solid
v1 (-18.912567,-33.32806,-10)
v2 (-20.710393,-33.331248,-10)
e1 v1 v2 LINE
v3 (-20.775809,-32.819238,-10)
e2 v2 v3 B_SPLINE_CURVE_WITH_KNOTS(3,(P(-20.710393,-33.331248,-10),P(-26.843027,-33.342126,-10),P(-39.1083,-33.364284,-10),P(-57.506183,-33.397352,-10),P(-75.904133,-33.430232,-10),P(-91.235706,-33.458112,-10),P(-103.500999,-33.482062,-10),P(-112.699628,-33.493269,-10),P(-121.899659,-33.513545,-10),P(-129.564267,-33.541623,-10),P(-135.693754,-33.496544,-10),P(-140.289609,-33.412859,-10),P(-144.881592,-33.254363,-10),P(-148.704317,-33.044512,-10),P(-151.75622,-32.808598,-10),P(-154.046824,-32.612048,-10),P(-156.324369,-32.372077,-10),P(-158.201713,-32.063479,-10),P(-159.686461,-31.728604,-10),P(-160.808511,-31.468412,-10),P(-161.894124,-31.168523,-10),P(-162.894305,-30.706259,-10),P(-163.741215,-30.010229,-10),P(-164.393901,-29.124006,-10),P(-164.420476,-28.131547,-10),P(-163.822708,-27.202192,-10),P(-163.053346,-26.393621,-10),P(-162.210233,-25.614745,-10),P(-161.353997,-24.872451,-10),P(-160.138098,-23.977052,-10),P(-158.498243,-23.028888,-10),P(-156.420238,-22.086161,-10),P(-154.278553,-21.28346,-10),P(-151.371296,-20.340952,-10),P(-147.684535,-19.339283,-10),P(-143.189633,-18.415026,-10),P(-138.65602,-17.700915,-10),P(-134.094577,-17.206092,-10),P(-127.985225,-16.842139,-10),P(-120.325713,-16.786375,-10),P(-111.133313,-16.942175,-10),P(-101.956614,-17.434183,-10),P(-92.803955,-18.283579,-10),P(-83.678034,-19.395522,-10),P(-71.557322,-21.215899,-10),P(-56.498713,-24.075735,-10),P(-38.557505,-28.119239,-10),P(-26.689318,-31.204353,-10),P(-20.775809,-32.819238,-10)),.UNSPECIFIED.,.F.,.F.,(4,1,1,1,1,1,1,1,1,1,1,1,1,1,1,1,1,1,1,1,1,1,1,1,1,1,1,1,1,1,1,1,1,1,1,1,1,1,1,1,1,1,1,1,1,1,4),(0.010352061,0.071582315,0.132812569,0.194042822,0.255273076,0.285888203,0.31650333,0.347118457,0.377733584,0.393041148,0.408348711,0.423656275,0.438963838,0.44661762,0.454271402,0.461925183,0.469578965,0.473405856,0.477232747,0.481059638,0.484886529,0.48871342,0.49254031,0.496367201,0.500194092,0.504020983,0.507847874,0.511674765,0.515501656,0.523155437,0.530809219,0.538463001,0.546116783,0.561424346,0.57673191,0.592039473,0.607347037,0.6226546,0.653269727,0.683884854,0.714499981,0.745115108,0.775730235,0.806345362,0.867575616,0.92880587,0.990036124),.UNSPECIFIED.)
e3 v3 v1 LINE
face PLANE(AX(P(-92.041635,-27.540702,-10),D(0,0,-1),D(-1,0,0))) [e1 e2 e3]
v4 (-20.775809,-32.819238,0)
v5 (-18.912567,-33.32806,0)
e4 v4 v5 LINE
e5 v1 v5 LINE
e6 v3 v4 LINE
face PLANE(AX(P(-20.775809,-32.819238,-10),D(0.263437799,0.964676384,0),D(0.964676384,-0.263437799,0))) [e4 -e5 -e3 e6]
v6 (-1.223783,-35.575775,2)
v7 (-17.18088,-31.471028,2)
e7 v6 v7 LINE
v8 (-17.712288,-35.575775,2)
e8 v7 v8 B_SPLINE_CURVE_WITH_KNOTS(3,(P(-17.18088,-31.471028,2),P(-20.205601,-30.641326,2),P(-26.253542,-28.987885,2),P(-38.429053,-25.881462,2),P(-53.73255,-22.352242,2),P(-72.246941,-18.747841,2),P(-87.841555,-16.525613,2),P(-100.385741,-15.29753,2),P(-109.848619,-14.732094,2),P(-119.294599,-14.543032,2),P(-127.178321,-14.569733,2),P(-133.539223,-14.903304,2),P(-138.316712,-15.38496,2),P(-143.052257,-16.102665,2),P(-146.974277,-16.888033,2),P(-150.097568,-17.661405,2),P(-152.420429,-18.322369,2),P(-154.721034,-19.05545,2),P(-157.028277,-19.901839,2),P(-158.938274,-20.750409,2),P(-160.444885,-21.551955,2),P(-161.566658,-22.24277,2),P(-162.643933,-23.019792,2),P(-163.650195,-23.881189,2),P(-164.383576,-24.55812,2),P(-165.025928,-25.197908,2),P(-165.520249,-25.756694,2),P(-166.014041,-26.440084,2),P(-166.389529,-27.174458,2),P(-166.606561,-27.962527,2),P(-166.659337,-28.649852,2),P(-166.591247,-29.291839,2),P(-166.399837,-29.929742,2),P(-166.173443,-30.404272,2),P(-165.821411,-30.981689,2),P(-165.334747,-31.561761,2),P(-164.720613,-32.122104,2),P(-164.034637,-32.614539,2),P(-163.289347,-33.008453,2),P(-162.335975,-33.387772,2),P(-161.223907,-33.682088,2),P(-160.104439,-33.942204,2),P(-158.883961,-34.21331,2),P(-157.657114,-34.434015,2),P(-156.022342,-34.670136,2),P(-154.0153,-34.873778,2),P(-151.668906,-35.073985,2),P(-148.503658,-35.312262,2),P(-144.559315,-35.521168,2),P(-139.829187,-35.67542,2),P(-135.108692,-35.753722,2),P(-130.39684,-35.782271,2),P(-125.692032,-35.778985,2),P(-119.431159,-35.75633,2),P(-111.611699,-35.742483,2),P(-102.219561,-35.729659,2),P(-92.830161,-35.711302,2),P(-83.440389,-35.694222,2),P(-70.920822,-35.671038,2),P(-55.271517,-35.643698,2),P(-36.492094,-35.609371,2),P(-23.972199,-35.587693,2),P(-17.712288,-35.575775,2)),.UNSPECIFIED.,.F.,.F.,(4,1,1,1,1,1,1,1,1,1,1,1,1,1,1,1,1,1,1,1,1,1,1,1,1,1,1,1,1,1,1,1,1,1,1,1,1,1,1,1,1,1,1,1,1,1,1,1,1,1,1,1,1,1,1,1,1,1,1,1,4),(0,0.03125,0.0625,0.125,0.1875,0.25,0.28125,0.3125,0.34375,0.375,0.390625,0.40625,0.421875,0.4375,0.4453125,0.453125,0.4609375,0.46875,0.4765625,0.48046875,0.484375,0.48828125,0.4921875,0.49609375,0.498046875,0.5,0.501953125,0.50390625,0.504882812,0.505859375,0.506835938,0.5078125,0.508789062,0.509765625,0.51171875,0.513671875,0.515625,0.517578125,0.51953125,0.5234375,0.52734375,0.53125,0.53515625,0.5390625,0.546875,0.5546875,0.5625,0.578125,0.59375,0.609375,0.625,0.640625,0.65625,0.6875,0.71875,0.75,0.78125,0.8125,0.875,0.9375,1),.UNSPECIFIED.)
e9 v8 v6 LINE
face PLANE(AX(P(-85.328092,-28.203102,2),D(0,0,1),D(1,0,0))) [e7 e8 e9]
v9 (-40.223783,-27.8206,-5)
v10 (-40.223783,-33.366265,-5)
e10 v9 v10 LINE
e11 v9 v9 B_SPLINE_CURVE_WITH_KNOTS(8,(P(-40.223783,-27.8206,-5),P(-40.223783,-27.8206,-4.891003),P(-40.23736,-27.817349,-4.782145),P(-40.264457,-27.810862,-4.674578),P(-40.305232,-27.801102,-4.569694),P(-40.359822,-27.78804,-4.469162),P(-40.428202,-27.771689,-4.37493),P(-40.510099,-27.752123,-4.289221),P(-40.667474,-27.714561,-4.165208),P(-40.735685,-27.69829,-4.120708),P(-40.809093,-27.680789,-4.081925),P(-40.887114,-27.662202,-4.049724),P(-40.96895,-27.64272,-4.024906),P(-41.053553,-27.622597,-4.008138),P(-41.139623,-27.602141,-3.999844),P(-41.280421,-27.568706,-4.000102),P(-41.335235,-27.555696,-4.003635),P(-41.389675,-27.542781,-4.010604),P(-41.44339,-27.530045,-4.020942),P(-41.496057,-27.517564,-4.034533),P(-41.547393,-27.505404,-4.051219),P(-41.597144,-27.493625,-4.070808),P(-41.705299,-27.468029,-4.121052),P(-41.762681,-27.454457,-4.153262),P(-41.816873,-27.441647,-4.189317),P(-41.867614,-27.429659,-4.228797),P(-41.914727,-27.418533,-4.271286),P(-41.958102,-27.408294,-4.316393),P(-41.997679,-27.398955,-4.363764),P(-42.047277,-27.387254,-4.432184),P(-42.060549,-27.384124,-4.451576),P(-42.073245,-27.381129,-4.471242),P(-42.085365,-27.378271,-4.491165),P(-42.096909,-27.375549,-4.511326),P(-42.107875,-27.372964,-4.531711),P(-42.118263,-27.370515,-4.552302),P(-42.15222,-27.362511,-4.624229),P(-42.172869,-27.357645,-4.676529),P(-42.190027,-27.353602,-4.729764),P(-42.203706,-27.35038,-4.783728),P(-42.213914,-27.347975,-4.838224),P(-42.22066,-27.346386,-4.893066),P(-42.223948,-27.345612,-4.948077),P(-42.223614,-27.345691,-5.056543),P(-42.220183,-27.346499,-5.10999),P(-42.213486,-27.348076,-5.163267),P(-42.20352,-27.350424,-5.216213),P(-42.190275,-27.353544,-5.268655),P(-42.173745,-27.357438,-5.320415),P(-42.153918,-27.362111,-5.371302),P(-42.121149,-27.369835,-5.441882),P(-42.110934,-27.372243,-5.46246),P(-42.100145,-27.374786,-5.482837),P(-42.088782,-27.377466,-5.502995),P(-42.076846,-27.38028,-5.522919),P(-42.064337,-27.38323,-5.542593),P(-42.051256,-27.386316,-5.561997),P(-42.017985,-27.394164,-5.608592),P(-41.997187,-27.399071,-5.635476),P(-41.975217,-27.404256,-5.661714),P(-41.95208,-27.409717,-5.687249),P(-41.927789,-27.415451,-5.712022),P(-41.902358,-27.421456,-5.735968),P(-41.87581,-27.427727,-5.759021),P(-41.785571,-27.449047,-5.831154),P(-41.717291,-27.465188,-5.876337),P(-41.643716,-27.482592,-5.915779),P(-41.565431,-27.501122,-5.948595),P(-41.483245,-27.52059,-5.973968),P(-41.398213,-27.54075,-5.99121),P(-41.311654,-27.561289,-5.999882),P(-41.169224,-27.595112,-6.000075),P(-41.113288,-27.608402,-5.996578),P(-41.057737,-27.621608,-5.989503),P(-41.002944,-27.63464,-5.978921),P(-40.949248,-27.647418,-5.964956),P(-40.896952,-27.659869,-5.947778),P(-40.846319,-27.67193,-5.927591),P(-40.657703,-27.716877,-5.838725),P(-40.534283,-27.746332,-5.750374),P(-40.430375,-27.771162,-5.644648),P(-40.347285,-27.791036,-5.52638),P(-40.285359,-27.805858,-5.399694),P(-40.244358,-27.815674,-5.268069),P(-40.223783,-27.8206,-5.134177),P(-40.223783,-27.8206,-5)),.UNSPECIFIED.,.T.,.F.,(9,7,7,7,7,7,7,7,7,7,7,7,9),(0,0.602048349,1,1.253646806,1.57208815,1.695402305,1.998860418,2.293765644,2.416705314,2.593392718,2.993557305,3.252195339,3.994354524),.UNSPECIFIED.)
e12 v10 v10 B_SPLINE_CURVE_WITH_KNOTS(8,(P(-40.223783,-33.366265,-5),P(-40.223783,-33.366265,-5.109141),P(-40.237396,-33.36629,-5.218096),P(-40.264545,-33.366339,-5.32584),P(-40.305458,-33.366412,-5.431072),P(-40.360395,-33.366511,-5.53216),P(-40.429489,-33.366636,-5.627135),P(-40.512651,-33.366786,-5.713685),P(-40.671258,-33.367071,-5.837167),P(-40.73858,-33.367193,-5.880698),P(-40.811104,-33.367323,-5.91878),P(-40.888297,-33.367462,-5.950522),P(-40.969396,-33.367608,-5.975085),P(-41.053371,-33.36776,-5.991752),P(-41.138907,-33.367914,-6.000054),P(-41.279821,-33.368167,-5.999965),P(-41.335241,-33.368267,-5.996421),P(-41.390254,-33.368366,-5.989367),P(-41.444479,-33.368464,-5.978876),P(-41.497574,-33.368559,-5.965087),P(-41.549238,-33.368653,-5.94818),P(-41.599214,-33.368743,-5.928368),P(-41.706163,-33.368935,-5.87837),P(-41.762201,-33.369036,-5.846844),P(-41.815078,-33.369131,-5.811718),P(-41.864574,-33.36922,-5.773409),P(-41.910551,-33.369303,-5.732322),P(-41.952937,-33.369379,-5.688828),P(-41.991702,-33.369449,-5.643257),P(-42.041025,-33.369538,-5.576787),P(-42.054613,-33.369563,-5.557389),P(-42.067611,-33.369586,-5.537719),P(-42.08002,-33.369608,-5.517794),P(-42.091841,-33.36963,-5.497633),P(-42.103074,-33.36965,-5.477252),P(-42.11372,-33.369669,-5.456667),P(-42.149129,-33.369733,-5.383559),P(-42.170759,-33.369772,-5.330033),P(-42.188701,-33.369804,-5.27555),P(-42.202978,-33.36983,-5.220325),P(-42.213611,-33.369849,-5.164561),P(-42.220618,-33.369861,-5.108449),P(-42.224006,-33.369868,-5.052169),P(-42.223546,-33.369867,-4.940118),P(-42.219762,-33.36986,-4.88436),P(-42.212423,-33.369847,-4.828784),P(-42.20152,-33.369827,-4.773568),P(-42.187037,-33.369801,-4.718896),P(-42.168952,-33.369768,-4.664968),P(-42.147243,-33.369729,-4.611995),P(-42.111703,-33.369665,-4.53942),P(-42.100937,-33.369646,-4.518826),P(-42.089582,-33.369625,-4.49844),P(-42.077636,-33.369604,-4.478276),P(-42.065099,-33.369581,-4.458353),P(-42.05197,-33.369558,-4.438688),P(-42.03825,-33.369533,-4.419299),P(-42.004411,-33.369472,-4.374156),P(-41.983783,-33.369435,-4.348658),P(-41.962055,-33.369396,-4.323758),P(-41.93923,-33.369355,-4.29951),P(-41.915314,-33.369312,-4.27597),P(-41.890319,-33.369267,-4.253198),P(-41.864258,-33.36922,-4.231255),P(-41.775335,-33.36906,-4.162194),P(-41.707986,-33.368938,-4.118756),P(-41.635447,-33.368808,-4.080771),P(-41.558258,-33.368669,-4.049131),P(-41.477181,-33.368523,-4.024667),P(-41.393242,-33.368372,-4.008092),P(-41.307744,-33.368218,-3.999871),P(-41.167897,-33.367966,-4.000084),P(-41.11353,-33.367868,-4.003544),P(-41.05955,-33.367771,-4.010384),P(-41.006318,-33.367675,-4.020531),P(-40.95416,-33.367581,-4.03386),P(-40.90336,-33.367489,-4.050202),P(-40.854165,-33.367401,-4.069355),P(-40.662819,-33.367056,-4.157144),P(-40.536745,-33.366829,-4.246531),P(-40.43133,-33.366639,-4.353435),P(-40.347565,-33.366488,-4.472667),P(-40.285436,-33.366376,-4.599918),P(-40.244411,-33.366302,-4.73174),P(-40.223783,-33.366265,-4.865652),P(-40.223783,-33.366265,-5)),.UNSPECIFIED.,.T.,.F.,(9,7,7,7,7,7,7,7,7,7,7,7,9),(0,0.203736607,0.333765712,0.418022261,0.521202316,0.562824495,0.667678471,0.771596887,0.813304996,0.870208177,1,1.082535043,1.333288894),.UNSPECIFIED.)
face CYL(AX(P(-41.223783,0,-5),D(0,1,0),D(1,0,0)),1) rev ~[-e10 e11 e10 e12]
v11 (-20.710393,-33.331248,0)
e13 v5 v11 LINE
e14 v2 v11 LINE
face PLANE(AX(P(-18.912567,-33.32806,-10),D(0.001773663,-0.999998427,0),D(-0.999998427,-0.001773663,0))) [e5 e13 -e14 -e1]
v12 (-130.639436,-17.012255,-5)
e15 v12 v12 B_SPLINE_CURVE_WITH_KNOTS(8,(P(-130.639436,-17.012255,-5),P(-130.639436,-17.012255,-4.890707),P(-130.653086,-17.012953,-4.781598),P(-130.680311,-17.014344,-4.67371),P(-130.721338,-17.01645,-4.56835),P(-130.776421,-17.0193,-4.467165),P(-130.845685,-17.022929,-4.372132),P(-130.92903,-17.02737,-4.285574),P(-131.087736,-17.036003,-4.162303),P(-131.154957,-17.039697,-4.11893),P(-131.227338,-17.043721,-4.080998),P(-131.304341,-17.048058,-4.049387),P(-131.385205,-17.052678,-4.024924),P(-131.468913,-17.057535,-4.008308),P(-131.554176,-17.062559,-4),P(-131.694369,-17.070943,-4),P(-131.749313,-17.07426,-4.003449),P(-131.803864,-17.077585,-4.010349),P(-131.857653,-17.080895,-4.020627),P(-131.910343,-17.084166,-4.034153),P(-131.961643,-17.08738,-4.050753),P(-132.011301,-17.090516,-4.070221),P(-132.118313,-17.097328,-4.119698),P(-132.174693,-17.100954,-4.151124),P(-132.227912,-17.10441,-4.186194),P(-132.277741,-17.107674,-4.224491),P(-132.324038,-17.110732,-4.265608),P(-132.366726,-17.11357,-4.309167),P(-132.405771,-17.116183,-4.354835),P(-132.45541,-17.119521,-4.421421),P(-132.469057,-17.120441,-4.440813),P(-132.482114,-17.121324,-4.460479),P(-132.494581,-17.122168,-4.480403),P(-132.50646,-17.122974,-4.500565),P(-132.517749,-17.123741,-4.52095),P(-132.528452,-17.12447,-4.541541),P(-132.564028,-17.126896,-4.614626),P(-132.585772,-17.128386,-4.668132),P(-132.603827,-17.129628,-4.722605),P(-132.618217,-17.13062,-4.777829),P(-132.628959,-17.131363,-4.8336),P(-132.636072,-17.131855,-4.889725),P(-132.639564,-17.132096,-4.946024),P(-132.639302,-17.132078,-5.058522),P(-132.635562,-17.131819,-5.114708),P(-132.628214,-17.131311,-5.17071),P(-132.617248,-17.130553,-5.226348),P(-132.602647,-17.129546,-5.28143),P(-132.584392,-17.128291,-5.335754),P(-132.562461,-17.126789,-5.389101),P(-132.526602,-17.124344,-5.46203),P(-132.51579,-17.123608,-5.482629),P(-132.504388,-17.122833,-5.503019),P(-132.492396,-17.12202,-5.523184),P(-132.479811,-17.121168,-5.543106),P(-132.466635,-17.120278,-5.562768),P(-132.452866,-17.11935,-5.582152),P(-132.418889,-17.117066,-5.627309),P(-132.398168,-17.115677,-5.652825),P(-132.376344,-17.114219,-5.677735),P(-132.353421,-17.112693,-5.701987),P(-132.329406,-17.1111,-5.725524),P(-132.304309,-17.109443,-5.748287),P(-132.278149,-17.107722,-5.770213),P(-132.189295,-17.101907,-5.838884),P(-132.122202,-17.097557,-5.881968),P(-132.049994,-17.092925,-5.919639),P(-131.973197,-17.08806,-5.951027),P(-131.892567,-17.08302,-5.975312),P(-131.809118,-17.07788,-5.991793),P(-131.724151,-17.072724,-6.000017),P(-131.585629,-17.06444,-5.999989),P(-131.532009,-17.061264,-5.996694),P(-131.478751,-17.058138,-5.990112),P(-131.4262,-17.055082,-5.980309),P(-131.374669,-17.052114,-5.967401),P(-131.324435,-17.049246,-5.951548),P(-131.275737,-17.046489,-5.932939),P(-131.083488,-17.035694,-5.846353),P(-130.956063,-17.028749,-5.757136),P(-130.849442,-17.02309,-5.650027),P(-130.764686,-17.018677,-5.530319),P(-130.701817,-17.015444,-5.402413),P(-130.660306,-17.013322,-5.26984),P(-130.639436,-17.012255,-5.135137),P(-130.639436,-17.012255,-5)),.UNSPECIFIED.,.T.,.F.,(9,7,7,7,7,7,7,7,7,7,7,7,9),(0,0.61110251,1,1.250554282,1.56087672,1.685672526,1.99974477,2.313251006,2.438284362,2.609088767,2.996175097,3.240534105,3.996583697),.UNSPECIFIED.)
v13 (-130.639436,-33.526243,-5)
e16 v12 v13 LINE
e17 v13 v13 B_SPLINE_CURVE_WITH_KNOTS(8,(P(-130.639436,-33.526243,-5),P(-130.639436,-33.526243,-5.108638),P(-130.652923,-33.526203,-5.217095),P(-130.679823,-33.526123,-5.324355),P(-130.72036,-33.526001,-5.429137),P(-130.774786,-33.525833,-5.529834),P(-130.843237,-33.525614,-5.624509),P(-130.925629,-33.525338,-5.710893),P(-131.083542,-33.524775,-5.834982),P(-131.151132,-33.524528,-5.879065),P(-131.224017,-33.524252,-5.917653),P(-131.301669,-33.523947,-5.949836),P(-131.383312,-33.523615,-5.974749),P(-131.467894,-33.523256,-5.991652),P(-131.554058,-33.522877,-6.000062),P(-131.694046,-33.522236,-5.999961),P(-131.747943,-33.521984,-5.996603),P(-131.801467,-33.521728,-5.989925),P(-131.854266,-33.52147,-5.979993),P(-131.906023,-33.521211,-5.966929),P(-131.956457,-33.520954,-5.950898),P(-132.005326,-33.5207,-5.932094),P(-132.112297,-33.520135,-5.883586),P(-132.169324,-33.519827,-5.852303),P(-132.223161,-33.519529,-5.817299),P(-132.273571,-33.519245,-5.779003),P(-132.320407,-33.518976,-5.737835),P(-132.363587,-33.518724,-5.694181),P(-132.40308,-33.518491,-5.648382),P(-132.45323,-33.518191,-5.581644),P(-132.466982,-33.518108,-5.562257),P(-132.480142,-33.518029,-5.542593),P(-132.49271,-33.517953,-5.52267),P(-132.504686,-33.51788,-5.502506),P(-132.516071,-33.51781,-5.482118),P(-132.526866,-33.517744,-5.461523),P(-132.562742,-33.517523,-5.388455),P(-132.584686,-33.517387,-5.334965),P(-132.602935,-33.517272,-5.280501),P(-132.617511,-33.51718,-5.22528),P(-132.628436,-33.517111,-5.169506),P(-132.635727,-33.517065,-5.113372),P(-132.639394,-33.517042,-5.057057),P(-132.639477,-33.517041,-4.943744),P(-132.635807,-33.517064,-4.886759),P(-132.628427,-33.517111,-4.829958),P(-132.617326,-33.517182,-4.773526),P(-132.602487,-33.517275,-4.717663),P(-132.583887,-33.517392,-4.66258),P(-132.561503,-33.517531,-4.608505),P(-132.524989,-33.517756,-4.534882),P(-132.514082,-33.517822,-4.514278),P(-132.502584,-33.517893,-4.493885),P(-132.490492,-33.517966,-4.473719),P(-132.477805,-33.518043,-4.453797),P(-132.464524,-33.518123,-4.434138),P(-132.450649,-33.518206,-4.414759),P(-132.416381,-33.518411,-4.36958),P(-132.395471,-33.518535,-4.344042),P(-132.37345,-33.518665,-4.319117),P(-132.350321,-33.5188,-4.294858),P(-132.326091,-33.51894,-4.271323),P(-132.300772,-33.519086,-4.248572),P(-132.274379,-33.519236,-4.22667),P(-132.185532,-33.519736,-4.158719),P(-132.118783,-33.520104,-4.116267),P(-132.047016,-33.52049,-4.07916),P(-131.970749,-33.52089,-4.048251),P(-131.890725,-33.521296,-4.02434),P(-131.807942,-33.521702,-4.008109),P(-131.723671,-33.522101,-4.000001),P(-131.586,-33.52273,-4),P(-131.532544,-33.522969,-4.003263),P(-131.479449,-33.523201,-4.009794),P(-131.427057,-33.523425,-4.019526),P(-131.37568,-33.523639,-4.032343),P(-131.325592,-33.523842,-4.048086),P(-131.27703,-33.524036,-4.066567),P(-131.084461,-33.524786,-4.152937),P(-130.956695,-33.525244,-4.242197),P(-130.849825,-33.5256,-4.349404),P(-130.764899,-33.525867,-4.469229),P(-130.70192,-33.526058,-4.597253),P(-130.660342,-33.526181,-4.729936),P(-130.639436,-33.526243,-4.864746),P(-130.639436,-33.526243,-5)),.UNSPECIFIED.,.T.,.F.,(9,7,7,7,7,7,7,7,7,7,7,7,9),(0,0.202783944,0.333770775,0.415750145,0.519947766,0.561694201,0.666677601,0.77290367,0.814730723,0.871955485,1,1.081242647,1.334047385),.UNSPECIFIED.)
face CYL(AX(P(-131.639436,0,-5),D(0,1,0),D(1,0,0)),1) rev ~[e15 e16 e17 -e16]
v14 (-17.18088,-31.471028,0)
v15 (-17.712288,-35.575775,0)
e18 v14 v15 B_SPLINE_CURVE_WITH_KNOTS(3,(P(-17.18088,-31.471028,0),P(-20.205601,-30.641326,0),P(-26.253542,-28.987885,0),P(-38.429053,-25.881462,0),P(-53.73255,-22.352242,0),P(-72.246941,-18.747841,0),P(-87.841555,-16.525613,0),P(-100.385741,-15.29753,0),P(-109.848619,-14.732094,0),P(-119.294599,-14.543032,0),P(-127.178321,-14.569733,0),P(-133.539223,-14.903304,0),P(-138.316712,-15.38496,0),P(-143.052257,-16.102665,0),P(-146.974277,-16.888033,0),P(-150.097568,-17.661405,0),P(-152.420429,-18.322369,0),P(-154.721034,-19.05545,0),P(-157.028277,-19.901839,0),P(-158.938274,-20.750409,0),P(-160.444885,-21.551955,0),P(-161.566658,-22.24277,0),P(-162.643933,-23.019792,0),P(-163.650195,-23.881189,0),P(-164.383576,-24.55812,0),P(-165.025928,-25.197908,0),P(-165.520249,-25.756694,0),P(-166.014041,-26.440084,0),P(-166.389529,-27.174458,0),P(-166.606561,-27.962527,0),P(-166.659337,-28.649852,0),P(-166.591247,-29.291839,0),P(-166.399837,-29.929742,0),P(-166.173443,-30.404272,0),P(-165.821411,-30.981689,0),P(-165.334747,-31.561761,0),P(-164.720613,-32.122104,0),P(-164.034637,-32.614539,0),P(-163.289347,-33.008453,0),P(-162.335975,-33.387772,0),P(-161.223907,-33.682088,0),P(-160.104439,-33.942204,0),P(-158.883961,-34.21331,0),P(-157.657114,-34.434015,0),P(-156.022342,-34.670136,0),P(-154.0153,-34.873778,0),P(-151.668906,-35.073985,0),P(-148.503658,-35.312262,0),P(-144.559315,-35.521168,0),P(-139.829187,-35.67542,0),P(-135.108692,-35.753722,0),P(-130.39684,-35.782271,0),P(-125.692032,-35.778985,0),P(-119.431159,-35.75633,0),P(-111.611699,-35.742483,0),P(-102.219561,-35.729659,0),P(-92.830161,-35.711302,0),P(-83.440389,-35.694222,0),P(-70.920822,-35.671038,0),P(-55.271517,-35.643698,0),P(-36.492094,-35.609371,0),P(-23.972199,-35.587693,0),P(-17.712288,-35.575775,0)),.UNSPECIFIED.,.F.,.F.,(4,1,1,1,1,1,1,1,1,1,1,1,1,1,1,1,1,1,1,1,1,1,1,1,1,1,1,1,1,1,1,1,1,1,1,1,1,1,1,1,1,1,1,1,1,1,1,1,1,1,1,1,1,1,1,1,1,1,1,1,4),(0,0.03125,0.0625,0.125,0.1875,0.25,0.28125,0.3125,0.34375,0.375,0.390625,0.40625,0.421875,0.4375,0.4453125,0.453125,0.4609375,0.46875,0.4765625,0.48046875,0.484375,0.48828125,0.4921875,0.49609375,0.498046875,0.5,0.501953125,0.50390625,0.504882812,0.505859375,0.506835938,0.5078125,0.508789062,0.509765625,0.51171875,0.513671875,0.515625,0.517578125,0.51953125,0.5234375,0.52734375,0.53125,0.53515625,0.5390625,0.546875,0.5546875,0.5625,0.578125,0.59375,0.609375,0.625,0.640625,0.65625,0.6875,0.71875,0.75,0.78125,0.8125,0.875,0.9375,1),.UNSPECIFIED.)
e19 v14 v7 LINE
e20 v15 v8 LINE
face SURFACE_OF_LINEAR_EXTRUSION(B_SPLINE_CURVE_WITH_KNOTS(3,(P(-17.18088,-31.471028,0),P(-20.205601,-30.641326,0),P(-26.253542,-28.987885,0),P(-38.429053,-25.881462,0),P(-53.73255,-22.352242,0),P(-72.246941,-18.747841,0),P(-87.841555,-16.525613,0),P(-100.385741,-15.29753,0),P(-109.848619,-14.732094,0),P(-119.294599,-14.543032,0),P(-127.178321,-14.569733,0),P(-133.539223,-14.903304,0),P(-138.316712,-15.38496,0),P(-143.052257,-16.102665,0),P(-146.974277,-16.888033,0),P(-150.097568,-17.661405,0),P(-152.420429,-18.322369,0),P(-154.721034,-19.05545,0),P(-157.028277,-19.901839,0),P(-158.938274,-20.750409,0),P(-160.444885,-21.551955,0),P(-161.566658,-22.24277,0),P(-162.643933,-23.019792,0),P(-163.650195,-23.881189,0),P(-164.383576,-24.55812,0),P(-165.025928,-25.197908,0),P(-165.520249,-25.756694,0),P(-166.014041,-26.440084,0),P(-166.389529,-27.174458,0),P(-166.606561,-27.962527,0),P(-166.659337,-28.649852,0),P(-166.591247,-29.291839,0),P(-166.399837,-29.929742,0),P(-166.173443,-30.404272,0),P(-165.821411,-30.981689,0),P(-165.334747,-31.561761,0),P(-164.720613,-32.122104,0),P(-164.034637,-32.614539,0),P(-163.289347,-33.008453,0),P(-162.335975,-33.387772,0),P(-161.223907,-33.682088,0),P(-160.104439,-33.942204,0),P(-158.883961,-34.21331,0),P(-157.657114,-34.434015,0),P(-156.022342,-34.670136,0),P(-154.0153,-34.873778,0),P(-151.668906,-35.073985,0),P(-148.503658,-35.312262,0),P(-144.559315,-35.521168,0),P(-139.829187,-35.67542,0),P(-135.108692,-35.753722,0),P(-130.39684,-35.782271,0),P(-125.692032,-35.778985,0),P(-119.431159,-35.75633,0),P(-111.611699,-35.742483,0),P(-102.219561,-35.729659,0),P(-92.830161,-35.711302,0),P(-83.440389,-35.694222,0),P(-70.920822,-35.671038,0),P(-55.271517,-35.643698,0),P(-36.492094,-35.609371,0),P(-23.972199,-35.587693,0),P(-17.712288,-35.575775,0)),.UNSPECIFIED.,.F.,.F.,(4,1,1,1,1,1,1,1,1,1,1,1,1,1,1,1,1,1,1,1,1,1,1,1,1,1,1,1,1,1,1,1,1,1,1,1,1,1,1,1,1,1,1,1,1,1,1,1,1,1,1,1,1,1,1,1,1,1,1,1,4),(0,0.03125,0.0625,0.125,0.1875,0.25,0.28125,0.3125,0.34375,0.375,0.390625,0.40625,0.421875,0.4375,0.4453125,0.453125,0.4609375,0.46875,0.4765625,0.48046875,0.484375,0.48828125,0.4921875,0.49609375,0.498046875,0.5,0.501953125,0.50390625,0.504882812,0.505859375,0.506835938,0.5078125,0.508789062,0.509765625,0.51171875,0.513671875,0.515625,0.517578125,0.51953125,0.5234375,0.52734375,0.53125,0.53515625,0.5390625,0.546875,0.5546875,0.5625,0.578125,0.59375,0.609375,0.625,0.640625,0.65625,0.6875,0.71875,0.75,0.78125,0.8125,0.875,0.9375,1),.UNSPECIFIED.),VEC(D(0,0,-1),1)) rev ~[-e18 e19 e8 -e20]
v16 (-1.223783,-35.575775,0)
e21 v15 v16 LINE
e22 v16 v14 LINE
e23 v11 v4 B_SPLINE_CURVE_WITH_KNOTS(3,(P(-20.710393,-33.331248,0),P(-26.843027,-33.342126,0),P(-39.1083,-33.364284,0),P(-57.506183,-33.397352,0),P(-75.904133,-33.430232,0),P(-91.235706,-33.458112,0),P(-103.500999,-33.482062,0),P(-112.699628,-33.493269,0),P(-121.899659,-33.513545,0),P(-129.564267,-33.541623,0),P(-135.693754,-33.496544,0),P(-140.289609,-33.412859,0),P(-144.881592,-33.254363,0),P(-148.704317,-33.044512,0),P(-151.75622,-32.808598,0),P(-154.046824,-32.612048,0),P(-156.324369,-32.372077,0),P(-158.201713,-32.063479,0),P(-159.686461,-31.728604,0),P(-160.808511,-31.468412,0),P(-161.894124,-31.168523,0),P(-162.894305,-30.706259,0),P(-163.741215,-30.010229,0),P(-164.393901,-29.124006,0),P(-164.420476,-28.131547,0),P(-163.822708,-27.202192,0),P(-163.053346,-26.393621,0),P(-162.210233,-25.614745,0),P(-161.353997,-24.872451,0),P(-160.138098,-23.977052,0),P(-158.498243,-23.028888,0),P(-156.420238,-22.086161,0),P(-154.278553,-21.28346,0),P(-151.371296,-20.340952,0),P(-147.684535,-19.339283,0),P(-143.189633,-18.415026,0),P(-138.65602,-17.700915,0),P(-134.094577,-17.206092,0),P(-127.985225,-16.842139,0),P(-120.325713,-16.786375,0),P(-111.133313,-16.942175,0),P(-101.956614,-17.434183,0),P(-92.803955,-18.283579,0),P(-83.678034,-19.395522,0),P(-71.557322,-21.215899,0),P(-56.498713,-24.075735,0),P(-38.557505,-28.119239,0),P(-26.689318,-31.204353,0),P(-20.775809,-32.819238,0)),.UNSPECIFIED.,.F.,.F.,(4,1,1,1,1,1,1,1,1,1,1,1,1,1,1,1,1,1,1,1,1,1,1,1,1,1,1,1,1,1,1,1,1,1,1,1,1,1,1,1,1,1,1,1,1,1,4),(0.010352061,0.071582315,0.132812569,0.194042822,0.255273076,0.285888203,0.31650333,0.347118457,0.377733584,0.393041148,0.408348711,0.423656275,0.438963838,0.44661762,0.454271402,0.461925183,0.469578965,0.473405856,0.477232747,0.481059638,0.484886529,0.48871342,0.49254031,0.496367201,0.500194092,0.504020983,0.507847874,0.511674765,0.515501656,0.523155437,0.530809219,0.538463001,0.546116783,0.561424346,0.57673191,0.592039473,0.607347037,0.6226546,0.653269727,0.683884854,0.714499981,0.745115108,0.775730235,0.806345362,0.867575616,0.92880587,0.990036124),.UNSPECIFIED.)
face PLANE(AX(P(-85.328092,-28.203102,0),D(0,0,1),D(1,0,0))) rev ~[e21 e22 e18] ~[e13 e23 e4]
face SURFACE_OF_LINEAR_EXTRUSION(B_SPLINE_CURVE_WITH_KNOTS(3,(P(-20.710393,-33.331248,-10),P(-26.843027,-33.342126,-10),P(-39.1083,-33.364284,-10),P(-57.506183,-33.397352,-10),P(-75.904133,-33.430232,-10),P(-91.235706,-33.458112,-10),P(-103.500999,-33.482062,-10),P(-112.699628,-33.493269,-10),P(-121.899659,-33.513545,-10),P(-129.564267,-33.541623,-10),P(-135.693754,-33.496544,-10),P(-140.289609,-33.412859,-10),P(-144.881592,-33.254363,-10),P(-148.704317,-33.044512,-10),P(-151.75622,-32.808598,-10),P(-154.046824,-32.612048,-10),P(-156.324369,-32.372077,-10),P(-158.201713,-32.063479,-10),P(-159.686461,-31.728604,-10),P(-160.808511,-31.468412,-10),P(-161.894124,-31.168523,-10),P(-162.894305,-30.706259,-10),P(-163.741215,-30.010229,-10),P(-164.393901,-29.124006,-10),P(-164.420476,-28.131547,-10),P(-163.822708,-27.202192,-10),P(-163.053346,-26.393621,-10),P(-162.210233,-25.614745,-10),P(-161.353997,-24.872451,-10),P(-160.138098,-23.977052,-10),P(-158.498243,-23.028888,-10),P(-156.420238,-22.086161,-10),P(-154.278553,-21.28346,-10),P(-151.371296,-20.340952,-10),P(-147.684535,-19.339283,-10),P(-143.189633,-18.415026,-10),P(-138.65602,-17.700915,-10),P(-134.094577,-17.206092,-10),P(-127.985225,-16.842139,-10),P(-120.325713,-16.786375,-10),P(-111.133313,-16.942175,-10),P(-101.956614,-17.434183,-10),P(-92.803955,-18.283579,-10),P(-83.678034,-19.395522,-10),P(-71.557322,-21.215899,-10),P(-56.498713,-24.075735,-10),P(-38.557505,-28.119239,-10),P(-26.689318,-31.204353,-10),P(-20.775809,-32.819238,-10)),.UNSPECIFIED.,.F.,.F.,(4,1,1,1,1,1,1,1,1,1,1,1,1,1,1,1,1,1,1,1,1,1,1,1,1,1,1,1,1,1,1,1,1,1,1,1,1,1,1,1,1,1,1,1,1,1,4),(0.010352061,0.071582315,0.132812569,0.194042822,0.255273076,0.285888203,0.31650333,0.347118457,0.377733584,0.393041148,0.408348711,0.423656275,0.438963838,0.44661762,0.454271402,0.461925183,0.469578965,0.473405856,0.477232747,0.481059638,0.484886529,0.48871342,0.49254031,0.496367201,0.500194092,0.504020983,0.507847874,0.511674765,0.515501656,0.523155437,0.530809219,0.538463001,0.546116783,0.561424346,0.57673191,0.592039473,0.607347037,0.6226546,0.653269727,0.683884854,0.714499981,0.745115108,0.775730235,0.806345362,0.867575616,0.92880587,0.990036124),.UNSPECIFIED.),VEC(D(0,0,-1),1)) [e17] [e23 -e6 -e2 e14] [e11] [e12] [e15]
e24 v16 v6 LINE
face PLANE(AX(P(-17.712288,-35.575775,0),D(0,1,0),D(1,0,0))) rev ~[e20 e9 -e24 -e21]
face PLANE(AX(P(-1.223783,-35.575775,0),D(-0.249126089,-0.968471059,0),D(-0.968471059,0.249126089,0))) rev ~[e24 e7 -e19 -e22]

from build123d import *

# Parameters (mm, degrees)
BOSS_EXTRUDE1_DEPTH = 2
BOSS_EXTRUDE2_DEPTH = 10
SKETCH5_R           = 1
CUT_EXTRUDE1_DEPTH  = 36.779701738
CUT_EXTRUDE2_DEPTH  = 10


with BuildPart() as part:
    # Sketch1 → Boss-Extrude1 (new body)
    with BuildSketch(Plane.XY):
        with BuildLine():
            Line((-17.71228779, -35.575775075), (-1.223783329, -35.575775075))
            Line((-1.223783329, -35.575775075), (-17.180879623, -31.471027744))
            add(Edge.make_bspline(
                [(-17.180879623, -31.471027744), (-20.205601063, -30.641326221), (-26.253542154, -28.987884931), (-38.429053109, -25.8814615), (-53.732549887, -22.35224182), (-72.246941298, -18.747840877), (-87.841555491, -16.525613317), (-100.385741413, -15.297530048), (-109.848619286, -14.732094345), (-119.294599062, -14.543032016), (-127.178320958, -14.56973262), (-133.539223008, -14.903304234), (-138.316711816, -15.384960118), (-143.052256856, -16.102664967), (-146.974276822, -16.888033103), (-150.097568386, -17.661404713), (-152.420429022, -18.322368996), (-154.721034301, -19.055449549), (-157.028277155, -19.901839278), (-158.938274428, -20.750408796), (-160.444884569, -21.55195455), (-161.566657514, -22.242769671), (-162.643932605, -23.019791562), (-163.650195181, -23.881188916), (-164.383575737, -24.558119651), (-165.025928384, -25.197908158), (-165.520248718, -25.756694424), (-166.01404091, -26.440083904), (-166.389529061, -27.174457782), (-166.606560914, -27.962527196), (-166.659336808, -28.649852251), (-166.591247193, -29.291839365), (-166.3998375, -29.929741557), (-166.173442593, -30.404271636), (-165.821410784, -30.981688892), (-165.334747379, -31.561760653), (-164.720612919, -32.122103636), (-164.034637493, -32.61453888), (-163.289346674, -33.008452563), (-162.335975169, -33.387772412), (-161.22390742, -33.682088018), (-160.104439348, -33.942204217), (-158.883960635, -34.21330953), (-157.657113746, -34.434015389), (-156.022342218, -34.670136087), (-154.015300198, -34.873778442), (-151.668906344, -35.07398473), (-148.50365767, -35.312261934), (-144.559314611, -35.521168431), (-139.829186921, -35.675419619), (-135.108692198, -35.753722312), (-130.396839566, -35.782270868), (-125.692032249, -35.778984727), (-119.431159104, -35.756330318), (-111.611698629, -35.742482847), (-102.219561445, -35.729658954), (-92.83016126, -35.711302455), (-83.440388902, -35.694221978), (-70.920821592, -35.6710383), (-55.271517114, -35.643697918), (-36.492093713, -35.609371091), (-23.972198663, -35.587692749), (-17.71228779, -35.575775075)],
                knots=[0, 0, 0, 0, 0.03125, 0.0625, 0.125, 0.1875, 0.25, 0.28125, 0.3125, 0.34375, 0.375, 0.390625, 0.40625, 0.421875, 0.4375, 0.4453125, 0.453125, 0.4609375, 0.46875, 0.4765625, 0.48046875, 0.484375, 0.48828125, 0.4921875, 0.49609375, 0.498046875, 0.5, 0.501953125, 0.50390625, 0.504882812, 0.505859375, 0.506835938, 0.5078125, 0.508789062, 0.509765625, 0.51171875, 0.513671875, 0.515625, 0.517578125, 0.51953125, 0.5234375, 0.52734375, 0.53125, 0.53515625, 0.5390625, 0.546875, 0.5546875, 0.5625, 0.578125, 0.59375, 0.609375, 0.625, 0.640625, 0.65625, 0.6875, 0.71875, 0.75, 0.78125, 0.8125, 0.875, 0.9375, 1, 1, 1, 1], degree=3))
        make_face()
    extrude(amount=BOSS_EXTRUDE1_DEPTH)

    # Sketch4 → Boss-Extrude2 (add)
    with BuildSketch(Plane(origin=(0, 0, 0), x_dir=(-1, 0, 0), z_dir=(0, 0, -1))):
        with BuildLine():
            Line((17.70994939, -33.399779978), (17.7160954, -33.575778699))
            add(Edge.make_bspline(
                [(17.70994939, -33.399779978), (19.651879012, -32.867095565), (22.563577112, -32.068319692), (27.420043962, -30.770118295), (33.245486379, -29.263746739), (39.081710642, -27.826208531), (45.890157396, -26.226160187), (52.694169635, -24.702622889), (63.393948351, -22.501240747), (76.046850402, -20.202357345), (89.72564403, -18.331315967), (99.51568519, -17.393518183), (108.324863288, -16.817445171), (114.204364426, -16.625806752), (121.066356809, -16.561943444), (125.974053082, -16.571502562), (130.885253097, -16.744600599), (135.808351082, -17.114028774), (139.751938673, -17.602112713), (144.693017977, -18.44394121), (148.659981722, -19.315580588), (152.605023579, -20.461616952), (155.609352954, -21.476898751), (158.10574626, -22.546160182), (160.099824574, -23.655274475), (161.514645593, -24.657277192), (162.584438213, -25.617715585), (163.40244433, -26.391129499), (163.92459747, -26.95920193), (164.313902225, -27.510889309), (164.529063894, -27.94731657), (164.665704002, -28.464727875), (164.633170087, -28.89403193), (164.497358253, -29.271471481), (164.347818388, -29.573067596), (164.038218145, -30.0159236), (163.559116143, -30.490546425), (162.805207961, -31.040144352), (161.724262788, -31.501747246), (160.336321191, -31.832176674), (158.878451825, -32.175367079), (157.416123253, -32.451072602), (155.464334416, -32.72720523), (153.018038933, -32.95366966), (150.084495558, -33.195866586), (144.214110636, -33.568816871), (134.411361479, -33.820633073), (120.684790239, -33.752233713), (107.936738414, -33.739515262), (92.246192338, -33.710414817), (76.55564883, -33.681393812), (60.865096849, -33.652989659), (50.077844443, -33.63457102), (41.251915416, -33.617768164), (32.425981314, -33.602783128), (24.580710214, -33.587876536), (19.677413157, -33.579512674), (17.7160954, -33.575778699)],
                knots=[0, 0, 0, 0, 0.020105055, 0.030145261, 0.050190794, 0.080180377, 0.09015591, 0.120020101, 0.149793491, 0.199219015, 0.248395636, 0.287604023, 0.297393127, 0.336534715, 0.346322474, 0.365907652, 0.385530879, 0.395375762, 0.415192461, 0.425184025, 0.445412191, 0.455710779, 0.466190959, 0.477054504, 0.482786727, 0.488945835, 0.494316033, 0.497126416, 0.500187368, 0.502000869, 0.503849971, 0.505020137, 0.507317905, 0.507986558, 0.509023586, 0.510668219, 0.513358348, 0.515715812, 0.519949385, 0.524973188, 0.5299544, 0.534903202, 0.539824123, 0.549630394, 0.559425369, 0.569214167, 0.608355933, 0.657307127, 0.70626328, 0.735636871, 0.813966735, 0.862922864, 0.892296527, 0.921670208, 0.951043871, 0.980417552, 1, 1, 1, 1], degree=3))
        make_face()
    extrude(amount=BOSS_EXTRUDE2_DEPTH)

    # Sketch5 → Cut-Extrude1 (cut, through all)
    with BuildSketch(Plane(origin=(0, 0, 0), x_dir=(1, 0, 0), z_dir=(0, 1, 0))):
        with Locations((-131.639435551, 5)):
            Circle(SKETCH5_R)
        with Locations((-41.223783329, 5)):
            Circle(SKETCH5_R)
    extrude(amount=-CUT_EXTRUDE1_DEPTH, mode=Mode.SUBTRACT)

    # Sketch6 → Cut-Extrude2 (cut)
    with BuildSketch(Plane(origin=(0, 0, -10), x_dir=(-1, 0, 0), z_dir=(0, 0, -1))):
        with BuildLine():
            Line((1.223783329, -35.575775075), (17.71228779, -35.575775075))
            add(Edge.make_bspline(
                [(17.71228779, -35.575775075), (23.972198663, -35.587692749), (36.492093713, -35.609371091), (55.271517114, -35.643697918), (70.920821592, -35.6710383), (83.440388903, -35.694221978), (92.83016126, -35.711302455), (102.219561446, -35.729658954), (111.611698629, -35.742482847), (119.431159105, -35.756330318), (125.692032249, -35.778984727), (130.396839566, -35.782270868), (135.108692198, -35.753722312), (139.829186921, -35.675419619), (144.559314611, -35.521168431), (148.50365767, -35.312261934), (151.668906344, -35.07398473), (154.015300198, -34.873778442), (156.022342218, -34.670136087), (157.657113746, -34.434015389), (158.883960635, -34.21330953), (160.104439348, -33.942204217), (161.22390742, -33.682088018), (162.335975169, -33.387772412), (163.289346674, -33.008452563), (164.034637493, -32.61453888), (164.720612919, -32.122103636), (165.334747379, -31.561760653), (165.821410784, -30.981688892), (166.173442594, -30.404271636), (166.3998375, -29.929741557), (166.591247193, -29.291839365), (166.659336808, -28.649852251), (166.606560914, -27.962527196), (166.389529061, -27.174457782), (166.014040911, -26.440083904), (165.520248718, -25.756694424), (165.025928384, -25.197908158), (164.383575738, -24.558119651), (163.650195181, -23.881188916), (162.643932605, -23.019791562), (161.566657514, -22.242769671), (160.444884569, -21.55195455), (158.938274428, -20.750408796), (157.028277155, -19.901839278), (154.721034301, -19.055449549), (152.420429022, -18.322368996), (150.097568386, -17.661404713), (146.974276822, -16.888033103), (143.052256856, -16.102664967), (138.316711816, -15.384960118), (133.539223008, -14.903304234), (127.178320958, -14.56973262), (119.294599062, -14.543032016), (109.848619286, -14.732094345), (100.385741413, -15.297530048), (87.841555491, -16.525613317), (72.246941298, -18.747840877), (53.732549887, -22.35224182), (38.429053109, -25.8814615), (26.253542154, -28.987884931), (20.205601063, -30.641326221), (17.180879623, -31.471027744)],
                knots=[0, 0, 0, 0, 0.0625, 0.125, 0.1875, 0.21875, 0.25, 0.28125, 0.3125, 0.34375, 0.359375, 0.375, 0.390625, 0.40625, 0.421875, 0.4375, 0.4453125, 0.453125, 0.4609375, 0.46484375, 0.46875, 0.47265625, 0.4765625, 0.48046875, 0.482421875, 0.484375, 0.486328125, 0.48828125, 0.490234375, 0.491210938, 0.4921875, 0.493164062, 0.494140625, 0.495117188, 0.49609375, 0.498046875, 0.5, 0.501953125, 0.50390625, 0.5078125, 0.51171875, 0.515625, 0.51953125, 0.5234375, 0.53125, 0.5390625, 0.546875, 0.5546875, 0.5625, 0.578125, 0.59375, 0.609375, 0.625, 0.65625, 0.6875, 0.71875, 0.75, 0.8125, 0.875, 0.9375, 0.96875, 1, 1, 1, 1], degree=3))
            Line((17.180879623, -31.471027744), (1.223783329, -35.575775075))
        make_face()
        with BuildLine():
            Line((18.91256747, -33.328059638), (20.710392806, -33.33124838))
            add(Edge.make_bspline(
                [(20.710392806, -33.33124838), (26.84302725, -33.342125625), (39.108299632, -33.36428352), (57.506183233, -33.397352116), (75.904133448, -33.430231786), (91.235705772, -33.458112462), (103.500999254, -33.482061596), (112.699627982, -33.493268702), (121.899658594, -33.513545496), (129.564267264, -33.541622838), (135.693753844, -33.496544033), (140.289609178, -33.412858952), (144.881592412, -33.254362928), (148.704316905, -33.044512446), (151.756219842, -32.80859775), (154.046824319, -32.61204765), (156.324368552, -32.372076879), (158.201712675, -32.06347916), (159.68646139, -31.728604414), (160.808511278, -31.468412121), (161.894124206, -31.168523282), (162.894304694, -30.706258503), (163.741214987, -30.010229128), (164.393900683, -29.124006381), (164.420476186, -28.131546844), (163.822708418, -27.202192423), (163.053345641, -26.393620978), (162.210233196, -25.614745094), (161.353997269, -24.872451396), (160.13809842, -23.977052483), (158.498242625, -23.028887541), (156.420238055, -22.086160695), (154.278553211, -21.283459789), (151.37129613, -20.340952194), (147.68453464, -19.339282857), (143.189633108, -18.415026055), (138.656019956, -17.700915036), (134.094577233, -17.206092179), (127.985225236, -16.842138938), (120.325712678, -16.786374903), (111.133312691, -16.942174931), (101.956613994, -17.434183394), (92.803955496, -18.283579214), (83.67803365, -19.395522367), (71.557321977, -21.215898715), (56.498712626, -24.075735121), (38.5575052, -28.119238592), (26.689317811, -31.204352634), (20.77580884, -32.819238013)],
                knots=[0.010352061, 0.010352061, 0.010352061, 0.010352061, 0.071582315, 0.132812569, 0.194042822, 0.255273076, 0.285888203, 0.31650333, 0.347118457, 0.377733584, 0.393041148, 0.408348711, 0.423656275, 0.438963838, 0.44661762, 0.454271402, 0.461925183, 0.469578965, 0.473405856, 0.477232747, 0.481059638, 0.484886529, 0.48871342, 0.49254031, 0.496367201, 0.500194092, 0.504020983, 0.507847874, 0.511674765, 0.515501656, 0.523155437, 0.530809219, 0.538463001, 0.546116783, 0.561424346, 0.57673191, 0.592039473, 0.607347037, 0.6226546, 0.653269727, 0.683884854, 0.714499981, 0.745115108, 0.775730235, 0.806345362, 0.867575616, 0.92880587, 0.990036124, 0.990036124, 0.990036124, 0.990036124], degree=3))
            Line((20.77580884, -32.819238013), (18.91256747, -33.328059638))
        make_face(mode=Mode.SUBTRACT)
    extrude(amount=-CUT_EXTRUDE2_DEPTH, mode=Mode.SUBTRACT)


solid = part.part
